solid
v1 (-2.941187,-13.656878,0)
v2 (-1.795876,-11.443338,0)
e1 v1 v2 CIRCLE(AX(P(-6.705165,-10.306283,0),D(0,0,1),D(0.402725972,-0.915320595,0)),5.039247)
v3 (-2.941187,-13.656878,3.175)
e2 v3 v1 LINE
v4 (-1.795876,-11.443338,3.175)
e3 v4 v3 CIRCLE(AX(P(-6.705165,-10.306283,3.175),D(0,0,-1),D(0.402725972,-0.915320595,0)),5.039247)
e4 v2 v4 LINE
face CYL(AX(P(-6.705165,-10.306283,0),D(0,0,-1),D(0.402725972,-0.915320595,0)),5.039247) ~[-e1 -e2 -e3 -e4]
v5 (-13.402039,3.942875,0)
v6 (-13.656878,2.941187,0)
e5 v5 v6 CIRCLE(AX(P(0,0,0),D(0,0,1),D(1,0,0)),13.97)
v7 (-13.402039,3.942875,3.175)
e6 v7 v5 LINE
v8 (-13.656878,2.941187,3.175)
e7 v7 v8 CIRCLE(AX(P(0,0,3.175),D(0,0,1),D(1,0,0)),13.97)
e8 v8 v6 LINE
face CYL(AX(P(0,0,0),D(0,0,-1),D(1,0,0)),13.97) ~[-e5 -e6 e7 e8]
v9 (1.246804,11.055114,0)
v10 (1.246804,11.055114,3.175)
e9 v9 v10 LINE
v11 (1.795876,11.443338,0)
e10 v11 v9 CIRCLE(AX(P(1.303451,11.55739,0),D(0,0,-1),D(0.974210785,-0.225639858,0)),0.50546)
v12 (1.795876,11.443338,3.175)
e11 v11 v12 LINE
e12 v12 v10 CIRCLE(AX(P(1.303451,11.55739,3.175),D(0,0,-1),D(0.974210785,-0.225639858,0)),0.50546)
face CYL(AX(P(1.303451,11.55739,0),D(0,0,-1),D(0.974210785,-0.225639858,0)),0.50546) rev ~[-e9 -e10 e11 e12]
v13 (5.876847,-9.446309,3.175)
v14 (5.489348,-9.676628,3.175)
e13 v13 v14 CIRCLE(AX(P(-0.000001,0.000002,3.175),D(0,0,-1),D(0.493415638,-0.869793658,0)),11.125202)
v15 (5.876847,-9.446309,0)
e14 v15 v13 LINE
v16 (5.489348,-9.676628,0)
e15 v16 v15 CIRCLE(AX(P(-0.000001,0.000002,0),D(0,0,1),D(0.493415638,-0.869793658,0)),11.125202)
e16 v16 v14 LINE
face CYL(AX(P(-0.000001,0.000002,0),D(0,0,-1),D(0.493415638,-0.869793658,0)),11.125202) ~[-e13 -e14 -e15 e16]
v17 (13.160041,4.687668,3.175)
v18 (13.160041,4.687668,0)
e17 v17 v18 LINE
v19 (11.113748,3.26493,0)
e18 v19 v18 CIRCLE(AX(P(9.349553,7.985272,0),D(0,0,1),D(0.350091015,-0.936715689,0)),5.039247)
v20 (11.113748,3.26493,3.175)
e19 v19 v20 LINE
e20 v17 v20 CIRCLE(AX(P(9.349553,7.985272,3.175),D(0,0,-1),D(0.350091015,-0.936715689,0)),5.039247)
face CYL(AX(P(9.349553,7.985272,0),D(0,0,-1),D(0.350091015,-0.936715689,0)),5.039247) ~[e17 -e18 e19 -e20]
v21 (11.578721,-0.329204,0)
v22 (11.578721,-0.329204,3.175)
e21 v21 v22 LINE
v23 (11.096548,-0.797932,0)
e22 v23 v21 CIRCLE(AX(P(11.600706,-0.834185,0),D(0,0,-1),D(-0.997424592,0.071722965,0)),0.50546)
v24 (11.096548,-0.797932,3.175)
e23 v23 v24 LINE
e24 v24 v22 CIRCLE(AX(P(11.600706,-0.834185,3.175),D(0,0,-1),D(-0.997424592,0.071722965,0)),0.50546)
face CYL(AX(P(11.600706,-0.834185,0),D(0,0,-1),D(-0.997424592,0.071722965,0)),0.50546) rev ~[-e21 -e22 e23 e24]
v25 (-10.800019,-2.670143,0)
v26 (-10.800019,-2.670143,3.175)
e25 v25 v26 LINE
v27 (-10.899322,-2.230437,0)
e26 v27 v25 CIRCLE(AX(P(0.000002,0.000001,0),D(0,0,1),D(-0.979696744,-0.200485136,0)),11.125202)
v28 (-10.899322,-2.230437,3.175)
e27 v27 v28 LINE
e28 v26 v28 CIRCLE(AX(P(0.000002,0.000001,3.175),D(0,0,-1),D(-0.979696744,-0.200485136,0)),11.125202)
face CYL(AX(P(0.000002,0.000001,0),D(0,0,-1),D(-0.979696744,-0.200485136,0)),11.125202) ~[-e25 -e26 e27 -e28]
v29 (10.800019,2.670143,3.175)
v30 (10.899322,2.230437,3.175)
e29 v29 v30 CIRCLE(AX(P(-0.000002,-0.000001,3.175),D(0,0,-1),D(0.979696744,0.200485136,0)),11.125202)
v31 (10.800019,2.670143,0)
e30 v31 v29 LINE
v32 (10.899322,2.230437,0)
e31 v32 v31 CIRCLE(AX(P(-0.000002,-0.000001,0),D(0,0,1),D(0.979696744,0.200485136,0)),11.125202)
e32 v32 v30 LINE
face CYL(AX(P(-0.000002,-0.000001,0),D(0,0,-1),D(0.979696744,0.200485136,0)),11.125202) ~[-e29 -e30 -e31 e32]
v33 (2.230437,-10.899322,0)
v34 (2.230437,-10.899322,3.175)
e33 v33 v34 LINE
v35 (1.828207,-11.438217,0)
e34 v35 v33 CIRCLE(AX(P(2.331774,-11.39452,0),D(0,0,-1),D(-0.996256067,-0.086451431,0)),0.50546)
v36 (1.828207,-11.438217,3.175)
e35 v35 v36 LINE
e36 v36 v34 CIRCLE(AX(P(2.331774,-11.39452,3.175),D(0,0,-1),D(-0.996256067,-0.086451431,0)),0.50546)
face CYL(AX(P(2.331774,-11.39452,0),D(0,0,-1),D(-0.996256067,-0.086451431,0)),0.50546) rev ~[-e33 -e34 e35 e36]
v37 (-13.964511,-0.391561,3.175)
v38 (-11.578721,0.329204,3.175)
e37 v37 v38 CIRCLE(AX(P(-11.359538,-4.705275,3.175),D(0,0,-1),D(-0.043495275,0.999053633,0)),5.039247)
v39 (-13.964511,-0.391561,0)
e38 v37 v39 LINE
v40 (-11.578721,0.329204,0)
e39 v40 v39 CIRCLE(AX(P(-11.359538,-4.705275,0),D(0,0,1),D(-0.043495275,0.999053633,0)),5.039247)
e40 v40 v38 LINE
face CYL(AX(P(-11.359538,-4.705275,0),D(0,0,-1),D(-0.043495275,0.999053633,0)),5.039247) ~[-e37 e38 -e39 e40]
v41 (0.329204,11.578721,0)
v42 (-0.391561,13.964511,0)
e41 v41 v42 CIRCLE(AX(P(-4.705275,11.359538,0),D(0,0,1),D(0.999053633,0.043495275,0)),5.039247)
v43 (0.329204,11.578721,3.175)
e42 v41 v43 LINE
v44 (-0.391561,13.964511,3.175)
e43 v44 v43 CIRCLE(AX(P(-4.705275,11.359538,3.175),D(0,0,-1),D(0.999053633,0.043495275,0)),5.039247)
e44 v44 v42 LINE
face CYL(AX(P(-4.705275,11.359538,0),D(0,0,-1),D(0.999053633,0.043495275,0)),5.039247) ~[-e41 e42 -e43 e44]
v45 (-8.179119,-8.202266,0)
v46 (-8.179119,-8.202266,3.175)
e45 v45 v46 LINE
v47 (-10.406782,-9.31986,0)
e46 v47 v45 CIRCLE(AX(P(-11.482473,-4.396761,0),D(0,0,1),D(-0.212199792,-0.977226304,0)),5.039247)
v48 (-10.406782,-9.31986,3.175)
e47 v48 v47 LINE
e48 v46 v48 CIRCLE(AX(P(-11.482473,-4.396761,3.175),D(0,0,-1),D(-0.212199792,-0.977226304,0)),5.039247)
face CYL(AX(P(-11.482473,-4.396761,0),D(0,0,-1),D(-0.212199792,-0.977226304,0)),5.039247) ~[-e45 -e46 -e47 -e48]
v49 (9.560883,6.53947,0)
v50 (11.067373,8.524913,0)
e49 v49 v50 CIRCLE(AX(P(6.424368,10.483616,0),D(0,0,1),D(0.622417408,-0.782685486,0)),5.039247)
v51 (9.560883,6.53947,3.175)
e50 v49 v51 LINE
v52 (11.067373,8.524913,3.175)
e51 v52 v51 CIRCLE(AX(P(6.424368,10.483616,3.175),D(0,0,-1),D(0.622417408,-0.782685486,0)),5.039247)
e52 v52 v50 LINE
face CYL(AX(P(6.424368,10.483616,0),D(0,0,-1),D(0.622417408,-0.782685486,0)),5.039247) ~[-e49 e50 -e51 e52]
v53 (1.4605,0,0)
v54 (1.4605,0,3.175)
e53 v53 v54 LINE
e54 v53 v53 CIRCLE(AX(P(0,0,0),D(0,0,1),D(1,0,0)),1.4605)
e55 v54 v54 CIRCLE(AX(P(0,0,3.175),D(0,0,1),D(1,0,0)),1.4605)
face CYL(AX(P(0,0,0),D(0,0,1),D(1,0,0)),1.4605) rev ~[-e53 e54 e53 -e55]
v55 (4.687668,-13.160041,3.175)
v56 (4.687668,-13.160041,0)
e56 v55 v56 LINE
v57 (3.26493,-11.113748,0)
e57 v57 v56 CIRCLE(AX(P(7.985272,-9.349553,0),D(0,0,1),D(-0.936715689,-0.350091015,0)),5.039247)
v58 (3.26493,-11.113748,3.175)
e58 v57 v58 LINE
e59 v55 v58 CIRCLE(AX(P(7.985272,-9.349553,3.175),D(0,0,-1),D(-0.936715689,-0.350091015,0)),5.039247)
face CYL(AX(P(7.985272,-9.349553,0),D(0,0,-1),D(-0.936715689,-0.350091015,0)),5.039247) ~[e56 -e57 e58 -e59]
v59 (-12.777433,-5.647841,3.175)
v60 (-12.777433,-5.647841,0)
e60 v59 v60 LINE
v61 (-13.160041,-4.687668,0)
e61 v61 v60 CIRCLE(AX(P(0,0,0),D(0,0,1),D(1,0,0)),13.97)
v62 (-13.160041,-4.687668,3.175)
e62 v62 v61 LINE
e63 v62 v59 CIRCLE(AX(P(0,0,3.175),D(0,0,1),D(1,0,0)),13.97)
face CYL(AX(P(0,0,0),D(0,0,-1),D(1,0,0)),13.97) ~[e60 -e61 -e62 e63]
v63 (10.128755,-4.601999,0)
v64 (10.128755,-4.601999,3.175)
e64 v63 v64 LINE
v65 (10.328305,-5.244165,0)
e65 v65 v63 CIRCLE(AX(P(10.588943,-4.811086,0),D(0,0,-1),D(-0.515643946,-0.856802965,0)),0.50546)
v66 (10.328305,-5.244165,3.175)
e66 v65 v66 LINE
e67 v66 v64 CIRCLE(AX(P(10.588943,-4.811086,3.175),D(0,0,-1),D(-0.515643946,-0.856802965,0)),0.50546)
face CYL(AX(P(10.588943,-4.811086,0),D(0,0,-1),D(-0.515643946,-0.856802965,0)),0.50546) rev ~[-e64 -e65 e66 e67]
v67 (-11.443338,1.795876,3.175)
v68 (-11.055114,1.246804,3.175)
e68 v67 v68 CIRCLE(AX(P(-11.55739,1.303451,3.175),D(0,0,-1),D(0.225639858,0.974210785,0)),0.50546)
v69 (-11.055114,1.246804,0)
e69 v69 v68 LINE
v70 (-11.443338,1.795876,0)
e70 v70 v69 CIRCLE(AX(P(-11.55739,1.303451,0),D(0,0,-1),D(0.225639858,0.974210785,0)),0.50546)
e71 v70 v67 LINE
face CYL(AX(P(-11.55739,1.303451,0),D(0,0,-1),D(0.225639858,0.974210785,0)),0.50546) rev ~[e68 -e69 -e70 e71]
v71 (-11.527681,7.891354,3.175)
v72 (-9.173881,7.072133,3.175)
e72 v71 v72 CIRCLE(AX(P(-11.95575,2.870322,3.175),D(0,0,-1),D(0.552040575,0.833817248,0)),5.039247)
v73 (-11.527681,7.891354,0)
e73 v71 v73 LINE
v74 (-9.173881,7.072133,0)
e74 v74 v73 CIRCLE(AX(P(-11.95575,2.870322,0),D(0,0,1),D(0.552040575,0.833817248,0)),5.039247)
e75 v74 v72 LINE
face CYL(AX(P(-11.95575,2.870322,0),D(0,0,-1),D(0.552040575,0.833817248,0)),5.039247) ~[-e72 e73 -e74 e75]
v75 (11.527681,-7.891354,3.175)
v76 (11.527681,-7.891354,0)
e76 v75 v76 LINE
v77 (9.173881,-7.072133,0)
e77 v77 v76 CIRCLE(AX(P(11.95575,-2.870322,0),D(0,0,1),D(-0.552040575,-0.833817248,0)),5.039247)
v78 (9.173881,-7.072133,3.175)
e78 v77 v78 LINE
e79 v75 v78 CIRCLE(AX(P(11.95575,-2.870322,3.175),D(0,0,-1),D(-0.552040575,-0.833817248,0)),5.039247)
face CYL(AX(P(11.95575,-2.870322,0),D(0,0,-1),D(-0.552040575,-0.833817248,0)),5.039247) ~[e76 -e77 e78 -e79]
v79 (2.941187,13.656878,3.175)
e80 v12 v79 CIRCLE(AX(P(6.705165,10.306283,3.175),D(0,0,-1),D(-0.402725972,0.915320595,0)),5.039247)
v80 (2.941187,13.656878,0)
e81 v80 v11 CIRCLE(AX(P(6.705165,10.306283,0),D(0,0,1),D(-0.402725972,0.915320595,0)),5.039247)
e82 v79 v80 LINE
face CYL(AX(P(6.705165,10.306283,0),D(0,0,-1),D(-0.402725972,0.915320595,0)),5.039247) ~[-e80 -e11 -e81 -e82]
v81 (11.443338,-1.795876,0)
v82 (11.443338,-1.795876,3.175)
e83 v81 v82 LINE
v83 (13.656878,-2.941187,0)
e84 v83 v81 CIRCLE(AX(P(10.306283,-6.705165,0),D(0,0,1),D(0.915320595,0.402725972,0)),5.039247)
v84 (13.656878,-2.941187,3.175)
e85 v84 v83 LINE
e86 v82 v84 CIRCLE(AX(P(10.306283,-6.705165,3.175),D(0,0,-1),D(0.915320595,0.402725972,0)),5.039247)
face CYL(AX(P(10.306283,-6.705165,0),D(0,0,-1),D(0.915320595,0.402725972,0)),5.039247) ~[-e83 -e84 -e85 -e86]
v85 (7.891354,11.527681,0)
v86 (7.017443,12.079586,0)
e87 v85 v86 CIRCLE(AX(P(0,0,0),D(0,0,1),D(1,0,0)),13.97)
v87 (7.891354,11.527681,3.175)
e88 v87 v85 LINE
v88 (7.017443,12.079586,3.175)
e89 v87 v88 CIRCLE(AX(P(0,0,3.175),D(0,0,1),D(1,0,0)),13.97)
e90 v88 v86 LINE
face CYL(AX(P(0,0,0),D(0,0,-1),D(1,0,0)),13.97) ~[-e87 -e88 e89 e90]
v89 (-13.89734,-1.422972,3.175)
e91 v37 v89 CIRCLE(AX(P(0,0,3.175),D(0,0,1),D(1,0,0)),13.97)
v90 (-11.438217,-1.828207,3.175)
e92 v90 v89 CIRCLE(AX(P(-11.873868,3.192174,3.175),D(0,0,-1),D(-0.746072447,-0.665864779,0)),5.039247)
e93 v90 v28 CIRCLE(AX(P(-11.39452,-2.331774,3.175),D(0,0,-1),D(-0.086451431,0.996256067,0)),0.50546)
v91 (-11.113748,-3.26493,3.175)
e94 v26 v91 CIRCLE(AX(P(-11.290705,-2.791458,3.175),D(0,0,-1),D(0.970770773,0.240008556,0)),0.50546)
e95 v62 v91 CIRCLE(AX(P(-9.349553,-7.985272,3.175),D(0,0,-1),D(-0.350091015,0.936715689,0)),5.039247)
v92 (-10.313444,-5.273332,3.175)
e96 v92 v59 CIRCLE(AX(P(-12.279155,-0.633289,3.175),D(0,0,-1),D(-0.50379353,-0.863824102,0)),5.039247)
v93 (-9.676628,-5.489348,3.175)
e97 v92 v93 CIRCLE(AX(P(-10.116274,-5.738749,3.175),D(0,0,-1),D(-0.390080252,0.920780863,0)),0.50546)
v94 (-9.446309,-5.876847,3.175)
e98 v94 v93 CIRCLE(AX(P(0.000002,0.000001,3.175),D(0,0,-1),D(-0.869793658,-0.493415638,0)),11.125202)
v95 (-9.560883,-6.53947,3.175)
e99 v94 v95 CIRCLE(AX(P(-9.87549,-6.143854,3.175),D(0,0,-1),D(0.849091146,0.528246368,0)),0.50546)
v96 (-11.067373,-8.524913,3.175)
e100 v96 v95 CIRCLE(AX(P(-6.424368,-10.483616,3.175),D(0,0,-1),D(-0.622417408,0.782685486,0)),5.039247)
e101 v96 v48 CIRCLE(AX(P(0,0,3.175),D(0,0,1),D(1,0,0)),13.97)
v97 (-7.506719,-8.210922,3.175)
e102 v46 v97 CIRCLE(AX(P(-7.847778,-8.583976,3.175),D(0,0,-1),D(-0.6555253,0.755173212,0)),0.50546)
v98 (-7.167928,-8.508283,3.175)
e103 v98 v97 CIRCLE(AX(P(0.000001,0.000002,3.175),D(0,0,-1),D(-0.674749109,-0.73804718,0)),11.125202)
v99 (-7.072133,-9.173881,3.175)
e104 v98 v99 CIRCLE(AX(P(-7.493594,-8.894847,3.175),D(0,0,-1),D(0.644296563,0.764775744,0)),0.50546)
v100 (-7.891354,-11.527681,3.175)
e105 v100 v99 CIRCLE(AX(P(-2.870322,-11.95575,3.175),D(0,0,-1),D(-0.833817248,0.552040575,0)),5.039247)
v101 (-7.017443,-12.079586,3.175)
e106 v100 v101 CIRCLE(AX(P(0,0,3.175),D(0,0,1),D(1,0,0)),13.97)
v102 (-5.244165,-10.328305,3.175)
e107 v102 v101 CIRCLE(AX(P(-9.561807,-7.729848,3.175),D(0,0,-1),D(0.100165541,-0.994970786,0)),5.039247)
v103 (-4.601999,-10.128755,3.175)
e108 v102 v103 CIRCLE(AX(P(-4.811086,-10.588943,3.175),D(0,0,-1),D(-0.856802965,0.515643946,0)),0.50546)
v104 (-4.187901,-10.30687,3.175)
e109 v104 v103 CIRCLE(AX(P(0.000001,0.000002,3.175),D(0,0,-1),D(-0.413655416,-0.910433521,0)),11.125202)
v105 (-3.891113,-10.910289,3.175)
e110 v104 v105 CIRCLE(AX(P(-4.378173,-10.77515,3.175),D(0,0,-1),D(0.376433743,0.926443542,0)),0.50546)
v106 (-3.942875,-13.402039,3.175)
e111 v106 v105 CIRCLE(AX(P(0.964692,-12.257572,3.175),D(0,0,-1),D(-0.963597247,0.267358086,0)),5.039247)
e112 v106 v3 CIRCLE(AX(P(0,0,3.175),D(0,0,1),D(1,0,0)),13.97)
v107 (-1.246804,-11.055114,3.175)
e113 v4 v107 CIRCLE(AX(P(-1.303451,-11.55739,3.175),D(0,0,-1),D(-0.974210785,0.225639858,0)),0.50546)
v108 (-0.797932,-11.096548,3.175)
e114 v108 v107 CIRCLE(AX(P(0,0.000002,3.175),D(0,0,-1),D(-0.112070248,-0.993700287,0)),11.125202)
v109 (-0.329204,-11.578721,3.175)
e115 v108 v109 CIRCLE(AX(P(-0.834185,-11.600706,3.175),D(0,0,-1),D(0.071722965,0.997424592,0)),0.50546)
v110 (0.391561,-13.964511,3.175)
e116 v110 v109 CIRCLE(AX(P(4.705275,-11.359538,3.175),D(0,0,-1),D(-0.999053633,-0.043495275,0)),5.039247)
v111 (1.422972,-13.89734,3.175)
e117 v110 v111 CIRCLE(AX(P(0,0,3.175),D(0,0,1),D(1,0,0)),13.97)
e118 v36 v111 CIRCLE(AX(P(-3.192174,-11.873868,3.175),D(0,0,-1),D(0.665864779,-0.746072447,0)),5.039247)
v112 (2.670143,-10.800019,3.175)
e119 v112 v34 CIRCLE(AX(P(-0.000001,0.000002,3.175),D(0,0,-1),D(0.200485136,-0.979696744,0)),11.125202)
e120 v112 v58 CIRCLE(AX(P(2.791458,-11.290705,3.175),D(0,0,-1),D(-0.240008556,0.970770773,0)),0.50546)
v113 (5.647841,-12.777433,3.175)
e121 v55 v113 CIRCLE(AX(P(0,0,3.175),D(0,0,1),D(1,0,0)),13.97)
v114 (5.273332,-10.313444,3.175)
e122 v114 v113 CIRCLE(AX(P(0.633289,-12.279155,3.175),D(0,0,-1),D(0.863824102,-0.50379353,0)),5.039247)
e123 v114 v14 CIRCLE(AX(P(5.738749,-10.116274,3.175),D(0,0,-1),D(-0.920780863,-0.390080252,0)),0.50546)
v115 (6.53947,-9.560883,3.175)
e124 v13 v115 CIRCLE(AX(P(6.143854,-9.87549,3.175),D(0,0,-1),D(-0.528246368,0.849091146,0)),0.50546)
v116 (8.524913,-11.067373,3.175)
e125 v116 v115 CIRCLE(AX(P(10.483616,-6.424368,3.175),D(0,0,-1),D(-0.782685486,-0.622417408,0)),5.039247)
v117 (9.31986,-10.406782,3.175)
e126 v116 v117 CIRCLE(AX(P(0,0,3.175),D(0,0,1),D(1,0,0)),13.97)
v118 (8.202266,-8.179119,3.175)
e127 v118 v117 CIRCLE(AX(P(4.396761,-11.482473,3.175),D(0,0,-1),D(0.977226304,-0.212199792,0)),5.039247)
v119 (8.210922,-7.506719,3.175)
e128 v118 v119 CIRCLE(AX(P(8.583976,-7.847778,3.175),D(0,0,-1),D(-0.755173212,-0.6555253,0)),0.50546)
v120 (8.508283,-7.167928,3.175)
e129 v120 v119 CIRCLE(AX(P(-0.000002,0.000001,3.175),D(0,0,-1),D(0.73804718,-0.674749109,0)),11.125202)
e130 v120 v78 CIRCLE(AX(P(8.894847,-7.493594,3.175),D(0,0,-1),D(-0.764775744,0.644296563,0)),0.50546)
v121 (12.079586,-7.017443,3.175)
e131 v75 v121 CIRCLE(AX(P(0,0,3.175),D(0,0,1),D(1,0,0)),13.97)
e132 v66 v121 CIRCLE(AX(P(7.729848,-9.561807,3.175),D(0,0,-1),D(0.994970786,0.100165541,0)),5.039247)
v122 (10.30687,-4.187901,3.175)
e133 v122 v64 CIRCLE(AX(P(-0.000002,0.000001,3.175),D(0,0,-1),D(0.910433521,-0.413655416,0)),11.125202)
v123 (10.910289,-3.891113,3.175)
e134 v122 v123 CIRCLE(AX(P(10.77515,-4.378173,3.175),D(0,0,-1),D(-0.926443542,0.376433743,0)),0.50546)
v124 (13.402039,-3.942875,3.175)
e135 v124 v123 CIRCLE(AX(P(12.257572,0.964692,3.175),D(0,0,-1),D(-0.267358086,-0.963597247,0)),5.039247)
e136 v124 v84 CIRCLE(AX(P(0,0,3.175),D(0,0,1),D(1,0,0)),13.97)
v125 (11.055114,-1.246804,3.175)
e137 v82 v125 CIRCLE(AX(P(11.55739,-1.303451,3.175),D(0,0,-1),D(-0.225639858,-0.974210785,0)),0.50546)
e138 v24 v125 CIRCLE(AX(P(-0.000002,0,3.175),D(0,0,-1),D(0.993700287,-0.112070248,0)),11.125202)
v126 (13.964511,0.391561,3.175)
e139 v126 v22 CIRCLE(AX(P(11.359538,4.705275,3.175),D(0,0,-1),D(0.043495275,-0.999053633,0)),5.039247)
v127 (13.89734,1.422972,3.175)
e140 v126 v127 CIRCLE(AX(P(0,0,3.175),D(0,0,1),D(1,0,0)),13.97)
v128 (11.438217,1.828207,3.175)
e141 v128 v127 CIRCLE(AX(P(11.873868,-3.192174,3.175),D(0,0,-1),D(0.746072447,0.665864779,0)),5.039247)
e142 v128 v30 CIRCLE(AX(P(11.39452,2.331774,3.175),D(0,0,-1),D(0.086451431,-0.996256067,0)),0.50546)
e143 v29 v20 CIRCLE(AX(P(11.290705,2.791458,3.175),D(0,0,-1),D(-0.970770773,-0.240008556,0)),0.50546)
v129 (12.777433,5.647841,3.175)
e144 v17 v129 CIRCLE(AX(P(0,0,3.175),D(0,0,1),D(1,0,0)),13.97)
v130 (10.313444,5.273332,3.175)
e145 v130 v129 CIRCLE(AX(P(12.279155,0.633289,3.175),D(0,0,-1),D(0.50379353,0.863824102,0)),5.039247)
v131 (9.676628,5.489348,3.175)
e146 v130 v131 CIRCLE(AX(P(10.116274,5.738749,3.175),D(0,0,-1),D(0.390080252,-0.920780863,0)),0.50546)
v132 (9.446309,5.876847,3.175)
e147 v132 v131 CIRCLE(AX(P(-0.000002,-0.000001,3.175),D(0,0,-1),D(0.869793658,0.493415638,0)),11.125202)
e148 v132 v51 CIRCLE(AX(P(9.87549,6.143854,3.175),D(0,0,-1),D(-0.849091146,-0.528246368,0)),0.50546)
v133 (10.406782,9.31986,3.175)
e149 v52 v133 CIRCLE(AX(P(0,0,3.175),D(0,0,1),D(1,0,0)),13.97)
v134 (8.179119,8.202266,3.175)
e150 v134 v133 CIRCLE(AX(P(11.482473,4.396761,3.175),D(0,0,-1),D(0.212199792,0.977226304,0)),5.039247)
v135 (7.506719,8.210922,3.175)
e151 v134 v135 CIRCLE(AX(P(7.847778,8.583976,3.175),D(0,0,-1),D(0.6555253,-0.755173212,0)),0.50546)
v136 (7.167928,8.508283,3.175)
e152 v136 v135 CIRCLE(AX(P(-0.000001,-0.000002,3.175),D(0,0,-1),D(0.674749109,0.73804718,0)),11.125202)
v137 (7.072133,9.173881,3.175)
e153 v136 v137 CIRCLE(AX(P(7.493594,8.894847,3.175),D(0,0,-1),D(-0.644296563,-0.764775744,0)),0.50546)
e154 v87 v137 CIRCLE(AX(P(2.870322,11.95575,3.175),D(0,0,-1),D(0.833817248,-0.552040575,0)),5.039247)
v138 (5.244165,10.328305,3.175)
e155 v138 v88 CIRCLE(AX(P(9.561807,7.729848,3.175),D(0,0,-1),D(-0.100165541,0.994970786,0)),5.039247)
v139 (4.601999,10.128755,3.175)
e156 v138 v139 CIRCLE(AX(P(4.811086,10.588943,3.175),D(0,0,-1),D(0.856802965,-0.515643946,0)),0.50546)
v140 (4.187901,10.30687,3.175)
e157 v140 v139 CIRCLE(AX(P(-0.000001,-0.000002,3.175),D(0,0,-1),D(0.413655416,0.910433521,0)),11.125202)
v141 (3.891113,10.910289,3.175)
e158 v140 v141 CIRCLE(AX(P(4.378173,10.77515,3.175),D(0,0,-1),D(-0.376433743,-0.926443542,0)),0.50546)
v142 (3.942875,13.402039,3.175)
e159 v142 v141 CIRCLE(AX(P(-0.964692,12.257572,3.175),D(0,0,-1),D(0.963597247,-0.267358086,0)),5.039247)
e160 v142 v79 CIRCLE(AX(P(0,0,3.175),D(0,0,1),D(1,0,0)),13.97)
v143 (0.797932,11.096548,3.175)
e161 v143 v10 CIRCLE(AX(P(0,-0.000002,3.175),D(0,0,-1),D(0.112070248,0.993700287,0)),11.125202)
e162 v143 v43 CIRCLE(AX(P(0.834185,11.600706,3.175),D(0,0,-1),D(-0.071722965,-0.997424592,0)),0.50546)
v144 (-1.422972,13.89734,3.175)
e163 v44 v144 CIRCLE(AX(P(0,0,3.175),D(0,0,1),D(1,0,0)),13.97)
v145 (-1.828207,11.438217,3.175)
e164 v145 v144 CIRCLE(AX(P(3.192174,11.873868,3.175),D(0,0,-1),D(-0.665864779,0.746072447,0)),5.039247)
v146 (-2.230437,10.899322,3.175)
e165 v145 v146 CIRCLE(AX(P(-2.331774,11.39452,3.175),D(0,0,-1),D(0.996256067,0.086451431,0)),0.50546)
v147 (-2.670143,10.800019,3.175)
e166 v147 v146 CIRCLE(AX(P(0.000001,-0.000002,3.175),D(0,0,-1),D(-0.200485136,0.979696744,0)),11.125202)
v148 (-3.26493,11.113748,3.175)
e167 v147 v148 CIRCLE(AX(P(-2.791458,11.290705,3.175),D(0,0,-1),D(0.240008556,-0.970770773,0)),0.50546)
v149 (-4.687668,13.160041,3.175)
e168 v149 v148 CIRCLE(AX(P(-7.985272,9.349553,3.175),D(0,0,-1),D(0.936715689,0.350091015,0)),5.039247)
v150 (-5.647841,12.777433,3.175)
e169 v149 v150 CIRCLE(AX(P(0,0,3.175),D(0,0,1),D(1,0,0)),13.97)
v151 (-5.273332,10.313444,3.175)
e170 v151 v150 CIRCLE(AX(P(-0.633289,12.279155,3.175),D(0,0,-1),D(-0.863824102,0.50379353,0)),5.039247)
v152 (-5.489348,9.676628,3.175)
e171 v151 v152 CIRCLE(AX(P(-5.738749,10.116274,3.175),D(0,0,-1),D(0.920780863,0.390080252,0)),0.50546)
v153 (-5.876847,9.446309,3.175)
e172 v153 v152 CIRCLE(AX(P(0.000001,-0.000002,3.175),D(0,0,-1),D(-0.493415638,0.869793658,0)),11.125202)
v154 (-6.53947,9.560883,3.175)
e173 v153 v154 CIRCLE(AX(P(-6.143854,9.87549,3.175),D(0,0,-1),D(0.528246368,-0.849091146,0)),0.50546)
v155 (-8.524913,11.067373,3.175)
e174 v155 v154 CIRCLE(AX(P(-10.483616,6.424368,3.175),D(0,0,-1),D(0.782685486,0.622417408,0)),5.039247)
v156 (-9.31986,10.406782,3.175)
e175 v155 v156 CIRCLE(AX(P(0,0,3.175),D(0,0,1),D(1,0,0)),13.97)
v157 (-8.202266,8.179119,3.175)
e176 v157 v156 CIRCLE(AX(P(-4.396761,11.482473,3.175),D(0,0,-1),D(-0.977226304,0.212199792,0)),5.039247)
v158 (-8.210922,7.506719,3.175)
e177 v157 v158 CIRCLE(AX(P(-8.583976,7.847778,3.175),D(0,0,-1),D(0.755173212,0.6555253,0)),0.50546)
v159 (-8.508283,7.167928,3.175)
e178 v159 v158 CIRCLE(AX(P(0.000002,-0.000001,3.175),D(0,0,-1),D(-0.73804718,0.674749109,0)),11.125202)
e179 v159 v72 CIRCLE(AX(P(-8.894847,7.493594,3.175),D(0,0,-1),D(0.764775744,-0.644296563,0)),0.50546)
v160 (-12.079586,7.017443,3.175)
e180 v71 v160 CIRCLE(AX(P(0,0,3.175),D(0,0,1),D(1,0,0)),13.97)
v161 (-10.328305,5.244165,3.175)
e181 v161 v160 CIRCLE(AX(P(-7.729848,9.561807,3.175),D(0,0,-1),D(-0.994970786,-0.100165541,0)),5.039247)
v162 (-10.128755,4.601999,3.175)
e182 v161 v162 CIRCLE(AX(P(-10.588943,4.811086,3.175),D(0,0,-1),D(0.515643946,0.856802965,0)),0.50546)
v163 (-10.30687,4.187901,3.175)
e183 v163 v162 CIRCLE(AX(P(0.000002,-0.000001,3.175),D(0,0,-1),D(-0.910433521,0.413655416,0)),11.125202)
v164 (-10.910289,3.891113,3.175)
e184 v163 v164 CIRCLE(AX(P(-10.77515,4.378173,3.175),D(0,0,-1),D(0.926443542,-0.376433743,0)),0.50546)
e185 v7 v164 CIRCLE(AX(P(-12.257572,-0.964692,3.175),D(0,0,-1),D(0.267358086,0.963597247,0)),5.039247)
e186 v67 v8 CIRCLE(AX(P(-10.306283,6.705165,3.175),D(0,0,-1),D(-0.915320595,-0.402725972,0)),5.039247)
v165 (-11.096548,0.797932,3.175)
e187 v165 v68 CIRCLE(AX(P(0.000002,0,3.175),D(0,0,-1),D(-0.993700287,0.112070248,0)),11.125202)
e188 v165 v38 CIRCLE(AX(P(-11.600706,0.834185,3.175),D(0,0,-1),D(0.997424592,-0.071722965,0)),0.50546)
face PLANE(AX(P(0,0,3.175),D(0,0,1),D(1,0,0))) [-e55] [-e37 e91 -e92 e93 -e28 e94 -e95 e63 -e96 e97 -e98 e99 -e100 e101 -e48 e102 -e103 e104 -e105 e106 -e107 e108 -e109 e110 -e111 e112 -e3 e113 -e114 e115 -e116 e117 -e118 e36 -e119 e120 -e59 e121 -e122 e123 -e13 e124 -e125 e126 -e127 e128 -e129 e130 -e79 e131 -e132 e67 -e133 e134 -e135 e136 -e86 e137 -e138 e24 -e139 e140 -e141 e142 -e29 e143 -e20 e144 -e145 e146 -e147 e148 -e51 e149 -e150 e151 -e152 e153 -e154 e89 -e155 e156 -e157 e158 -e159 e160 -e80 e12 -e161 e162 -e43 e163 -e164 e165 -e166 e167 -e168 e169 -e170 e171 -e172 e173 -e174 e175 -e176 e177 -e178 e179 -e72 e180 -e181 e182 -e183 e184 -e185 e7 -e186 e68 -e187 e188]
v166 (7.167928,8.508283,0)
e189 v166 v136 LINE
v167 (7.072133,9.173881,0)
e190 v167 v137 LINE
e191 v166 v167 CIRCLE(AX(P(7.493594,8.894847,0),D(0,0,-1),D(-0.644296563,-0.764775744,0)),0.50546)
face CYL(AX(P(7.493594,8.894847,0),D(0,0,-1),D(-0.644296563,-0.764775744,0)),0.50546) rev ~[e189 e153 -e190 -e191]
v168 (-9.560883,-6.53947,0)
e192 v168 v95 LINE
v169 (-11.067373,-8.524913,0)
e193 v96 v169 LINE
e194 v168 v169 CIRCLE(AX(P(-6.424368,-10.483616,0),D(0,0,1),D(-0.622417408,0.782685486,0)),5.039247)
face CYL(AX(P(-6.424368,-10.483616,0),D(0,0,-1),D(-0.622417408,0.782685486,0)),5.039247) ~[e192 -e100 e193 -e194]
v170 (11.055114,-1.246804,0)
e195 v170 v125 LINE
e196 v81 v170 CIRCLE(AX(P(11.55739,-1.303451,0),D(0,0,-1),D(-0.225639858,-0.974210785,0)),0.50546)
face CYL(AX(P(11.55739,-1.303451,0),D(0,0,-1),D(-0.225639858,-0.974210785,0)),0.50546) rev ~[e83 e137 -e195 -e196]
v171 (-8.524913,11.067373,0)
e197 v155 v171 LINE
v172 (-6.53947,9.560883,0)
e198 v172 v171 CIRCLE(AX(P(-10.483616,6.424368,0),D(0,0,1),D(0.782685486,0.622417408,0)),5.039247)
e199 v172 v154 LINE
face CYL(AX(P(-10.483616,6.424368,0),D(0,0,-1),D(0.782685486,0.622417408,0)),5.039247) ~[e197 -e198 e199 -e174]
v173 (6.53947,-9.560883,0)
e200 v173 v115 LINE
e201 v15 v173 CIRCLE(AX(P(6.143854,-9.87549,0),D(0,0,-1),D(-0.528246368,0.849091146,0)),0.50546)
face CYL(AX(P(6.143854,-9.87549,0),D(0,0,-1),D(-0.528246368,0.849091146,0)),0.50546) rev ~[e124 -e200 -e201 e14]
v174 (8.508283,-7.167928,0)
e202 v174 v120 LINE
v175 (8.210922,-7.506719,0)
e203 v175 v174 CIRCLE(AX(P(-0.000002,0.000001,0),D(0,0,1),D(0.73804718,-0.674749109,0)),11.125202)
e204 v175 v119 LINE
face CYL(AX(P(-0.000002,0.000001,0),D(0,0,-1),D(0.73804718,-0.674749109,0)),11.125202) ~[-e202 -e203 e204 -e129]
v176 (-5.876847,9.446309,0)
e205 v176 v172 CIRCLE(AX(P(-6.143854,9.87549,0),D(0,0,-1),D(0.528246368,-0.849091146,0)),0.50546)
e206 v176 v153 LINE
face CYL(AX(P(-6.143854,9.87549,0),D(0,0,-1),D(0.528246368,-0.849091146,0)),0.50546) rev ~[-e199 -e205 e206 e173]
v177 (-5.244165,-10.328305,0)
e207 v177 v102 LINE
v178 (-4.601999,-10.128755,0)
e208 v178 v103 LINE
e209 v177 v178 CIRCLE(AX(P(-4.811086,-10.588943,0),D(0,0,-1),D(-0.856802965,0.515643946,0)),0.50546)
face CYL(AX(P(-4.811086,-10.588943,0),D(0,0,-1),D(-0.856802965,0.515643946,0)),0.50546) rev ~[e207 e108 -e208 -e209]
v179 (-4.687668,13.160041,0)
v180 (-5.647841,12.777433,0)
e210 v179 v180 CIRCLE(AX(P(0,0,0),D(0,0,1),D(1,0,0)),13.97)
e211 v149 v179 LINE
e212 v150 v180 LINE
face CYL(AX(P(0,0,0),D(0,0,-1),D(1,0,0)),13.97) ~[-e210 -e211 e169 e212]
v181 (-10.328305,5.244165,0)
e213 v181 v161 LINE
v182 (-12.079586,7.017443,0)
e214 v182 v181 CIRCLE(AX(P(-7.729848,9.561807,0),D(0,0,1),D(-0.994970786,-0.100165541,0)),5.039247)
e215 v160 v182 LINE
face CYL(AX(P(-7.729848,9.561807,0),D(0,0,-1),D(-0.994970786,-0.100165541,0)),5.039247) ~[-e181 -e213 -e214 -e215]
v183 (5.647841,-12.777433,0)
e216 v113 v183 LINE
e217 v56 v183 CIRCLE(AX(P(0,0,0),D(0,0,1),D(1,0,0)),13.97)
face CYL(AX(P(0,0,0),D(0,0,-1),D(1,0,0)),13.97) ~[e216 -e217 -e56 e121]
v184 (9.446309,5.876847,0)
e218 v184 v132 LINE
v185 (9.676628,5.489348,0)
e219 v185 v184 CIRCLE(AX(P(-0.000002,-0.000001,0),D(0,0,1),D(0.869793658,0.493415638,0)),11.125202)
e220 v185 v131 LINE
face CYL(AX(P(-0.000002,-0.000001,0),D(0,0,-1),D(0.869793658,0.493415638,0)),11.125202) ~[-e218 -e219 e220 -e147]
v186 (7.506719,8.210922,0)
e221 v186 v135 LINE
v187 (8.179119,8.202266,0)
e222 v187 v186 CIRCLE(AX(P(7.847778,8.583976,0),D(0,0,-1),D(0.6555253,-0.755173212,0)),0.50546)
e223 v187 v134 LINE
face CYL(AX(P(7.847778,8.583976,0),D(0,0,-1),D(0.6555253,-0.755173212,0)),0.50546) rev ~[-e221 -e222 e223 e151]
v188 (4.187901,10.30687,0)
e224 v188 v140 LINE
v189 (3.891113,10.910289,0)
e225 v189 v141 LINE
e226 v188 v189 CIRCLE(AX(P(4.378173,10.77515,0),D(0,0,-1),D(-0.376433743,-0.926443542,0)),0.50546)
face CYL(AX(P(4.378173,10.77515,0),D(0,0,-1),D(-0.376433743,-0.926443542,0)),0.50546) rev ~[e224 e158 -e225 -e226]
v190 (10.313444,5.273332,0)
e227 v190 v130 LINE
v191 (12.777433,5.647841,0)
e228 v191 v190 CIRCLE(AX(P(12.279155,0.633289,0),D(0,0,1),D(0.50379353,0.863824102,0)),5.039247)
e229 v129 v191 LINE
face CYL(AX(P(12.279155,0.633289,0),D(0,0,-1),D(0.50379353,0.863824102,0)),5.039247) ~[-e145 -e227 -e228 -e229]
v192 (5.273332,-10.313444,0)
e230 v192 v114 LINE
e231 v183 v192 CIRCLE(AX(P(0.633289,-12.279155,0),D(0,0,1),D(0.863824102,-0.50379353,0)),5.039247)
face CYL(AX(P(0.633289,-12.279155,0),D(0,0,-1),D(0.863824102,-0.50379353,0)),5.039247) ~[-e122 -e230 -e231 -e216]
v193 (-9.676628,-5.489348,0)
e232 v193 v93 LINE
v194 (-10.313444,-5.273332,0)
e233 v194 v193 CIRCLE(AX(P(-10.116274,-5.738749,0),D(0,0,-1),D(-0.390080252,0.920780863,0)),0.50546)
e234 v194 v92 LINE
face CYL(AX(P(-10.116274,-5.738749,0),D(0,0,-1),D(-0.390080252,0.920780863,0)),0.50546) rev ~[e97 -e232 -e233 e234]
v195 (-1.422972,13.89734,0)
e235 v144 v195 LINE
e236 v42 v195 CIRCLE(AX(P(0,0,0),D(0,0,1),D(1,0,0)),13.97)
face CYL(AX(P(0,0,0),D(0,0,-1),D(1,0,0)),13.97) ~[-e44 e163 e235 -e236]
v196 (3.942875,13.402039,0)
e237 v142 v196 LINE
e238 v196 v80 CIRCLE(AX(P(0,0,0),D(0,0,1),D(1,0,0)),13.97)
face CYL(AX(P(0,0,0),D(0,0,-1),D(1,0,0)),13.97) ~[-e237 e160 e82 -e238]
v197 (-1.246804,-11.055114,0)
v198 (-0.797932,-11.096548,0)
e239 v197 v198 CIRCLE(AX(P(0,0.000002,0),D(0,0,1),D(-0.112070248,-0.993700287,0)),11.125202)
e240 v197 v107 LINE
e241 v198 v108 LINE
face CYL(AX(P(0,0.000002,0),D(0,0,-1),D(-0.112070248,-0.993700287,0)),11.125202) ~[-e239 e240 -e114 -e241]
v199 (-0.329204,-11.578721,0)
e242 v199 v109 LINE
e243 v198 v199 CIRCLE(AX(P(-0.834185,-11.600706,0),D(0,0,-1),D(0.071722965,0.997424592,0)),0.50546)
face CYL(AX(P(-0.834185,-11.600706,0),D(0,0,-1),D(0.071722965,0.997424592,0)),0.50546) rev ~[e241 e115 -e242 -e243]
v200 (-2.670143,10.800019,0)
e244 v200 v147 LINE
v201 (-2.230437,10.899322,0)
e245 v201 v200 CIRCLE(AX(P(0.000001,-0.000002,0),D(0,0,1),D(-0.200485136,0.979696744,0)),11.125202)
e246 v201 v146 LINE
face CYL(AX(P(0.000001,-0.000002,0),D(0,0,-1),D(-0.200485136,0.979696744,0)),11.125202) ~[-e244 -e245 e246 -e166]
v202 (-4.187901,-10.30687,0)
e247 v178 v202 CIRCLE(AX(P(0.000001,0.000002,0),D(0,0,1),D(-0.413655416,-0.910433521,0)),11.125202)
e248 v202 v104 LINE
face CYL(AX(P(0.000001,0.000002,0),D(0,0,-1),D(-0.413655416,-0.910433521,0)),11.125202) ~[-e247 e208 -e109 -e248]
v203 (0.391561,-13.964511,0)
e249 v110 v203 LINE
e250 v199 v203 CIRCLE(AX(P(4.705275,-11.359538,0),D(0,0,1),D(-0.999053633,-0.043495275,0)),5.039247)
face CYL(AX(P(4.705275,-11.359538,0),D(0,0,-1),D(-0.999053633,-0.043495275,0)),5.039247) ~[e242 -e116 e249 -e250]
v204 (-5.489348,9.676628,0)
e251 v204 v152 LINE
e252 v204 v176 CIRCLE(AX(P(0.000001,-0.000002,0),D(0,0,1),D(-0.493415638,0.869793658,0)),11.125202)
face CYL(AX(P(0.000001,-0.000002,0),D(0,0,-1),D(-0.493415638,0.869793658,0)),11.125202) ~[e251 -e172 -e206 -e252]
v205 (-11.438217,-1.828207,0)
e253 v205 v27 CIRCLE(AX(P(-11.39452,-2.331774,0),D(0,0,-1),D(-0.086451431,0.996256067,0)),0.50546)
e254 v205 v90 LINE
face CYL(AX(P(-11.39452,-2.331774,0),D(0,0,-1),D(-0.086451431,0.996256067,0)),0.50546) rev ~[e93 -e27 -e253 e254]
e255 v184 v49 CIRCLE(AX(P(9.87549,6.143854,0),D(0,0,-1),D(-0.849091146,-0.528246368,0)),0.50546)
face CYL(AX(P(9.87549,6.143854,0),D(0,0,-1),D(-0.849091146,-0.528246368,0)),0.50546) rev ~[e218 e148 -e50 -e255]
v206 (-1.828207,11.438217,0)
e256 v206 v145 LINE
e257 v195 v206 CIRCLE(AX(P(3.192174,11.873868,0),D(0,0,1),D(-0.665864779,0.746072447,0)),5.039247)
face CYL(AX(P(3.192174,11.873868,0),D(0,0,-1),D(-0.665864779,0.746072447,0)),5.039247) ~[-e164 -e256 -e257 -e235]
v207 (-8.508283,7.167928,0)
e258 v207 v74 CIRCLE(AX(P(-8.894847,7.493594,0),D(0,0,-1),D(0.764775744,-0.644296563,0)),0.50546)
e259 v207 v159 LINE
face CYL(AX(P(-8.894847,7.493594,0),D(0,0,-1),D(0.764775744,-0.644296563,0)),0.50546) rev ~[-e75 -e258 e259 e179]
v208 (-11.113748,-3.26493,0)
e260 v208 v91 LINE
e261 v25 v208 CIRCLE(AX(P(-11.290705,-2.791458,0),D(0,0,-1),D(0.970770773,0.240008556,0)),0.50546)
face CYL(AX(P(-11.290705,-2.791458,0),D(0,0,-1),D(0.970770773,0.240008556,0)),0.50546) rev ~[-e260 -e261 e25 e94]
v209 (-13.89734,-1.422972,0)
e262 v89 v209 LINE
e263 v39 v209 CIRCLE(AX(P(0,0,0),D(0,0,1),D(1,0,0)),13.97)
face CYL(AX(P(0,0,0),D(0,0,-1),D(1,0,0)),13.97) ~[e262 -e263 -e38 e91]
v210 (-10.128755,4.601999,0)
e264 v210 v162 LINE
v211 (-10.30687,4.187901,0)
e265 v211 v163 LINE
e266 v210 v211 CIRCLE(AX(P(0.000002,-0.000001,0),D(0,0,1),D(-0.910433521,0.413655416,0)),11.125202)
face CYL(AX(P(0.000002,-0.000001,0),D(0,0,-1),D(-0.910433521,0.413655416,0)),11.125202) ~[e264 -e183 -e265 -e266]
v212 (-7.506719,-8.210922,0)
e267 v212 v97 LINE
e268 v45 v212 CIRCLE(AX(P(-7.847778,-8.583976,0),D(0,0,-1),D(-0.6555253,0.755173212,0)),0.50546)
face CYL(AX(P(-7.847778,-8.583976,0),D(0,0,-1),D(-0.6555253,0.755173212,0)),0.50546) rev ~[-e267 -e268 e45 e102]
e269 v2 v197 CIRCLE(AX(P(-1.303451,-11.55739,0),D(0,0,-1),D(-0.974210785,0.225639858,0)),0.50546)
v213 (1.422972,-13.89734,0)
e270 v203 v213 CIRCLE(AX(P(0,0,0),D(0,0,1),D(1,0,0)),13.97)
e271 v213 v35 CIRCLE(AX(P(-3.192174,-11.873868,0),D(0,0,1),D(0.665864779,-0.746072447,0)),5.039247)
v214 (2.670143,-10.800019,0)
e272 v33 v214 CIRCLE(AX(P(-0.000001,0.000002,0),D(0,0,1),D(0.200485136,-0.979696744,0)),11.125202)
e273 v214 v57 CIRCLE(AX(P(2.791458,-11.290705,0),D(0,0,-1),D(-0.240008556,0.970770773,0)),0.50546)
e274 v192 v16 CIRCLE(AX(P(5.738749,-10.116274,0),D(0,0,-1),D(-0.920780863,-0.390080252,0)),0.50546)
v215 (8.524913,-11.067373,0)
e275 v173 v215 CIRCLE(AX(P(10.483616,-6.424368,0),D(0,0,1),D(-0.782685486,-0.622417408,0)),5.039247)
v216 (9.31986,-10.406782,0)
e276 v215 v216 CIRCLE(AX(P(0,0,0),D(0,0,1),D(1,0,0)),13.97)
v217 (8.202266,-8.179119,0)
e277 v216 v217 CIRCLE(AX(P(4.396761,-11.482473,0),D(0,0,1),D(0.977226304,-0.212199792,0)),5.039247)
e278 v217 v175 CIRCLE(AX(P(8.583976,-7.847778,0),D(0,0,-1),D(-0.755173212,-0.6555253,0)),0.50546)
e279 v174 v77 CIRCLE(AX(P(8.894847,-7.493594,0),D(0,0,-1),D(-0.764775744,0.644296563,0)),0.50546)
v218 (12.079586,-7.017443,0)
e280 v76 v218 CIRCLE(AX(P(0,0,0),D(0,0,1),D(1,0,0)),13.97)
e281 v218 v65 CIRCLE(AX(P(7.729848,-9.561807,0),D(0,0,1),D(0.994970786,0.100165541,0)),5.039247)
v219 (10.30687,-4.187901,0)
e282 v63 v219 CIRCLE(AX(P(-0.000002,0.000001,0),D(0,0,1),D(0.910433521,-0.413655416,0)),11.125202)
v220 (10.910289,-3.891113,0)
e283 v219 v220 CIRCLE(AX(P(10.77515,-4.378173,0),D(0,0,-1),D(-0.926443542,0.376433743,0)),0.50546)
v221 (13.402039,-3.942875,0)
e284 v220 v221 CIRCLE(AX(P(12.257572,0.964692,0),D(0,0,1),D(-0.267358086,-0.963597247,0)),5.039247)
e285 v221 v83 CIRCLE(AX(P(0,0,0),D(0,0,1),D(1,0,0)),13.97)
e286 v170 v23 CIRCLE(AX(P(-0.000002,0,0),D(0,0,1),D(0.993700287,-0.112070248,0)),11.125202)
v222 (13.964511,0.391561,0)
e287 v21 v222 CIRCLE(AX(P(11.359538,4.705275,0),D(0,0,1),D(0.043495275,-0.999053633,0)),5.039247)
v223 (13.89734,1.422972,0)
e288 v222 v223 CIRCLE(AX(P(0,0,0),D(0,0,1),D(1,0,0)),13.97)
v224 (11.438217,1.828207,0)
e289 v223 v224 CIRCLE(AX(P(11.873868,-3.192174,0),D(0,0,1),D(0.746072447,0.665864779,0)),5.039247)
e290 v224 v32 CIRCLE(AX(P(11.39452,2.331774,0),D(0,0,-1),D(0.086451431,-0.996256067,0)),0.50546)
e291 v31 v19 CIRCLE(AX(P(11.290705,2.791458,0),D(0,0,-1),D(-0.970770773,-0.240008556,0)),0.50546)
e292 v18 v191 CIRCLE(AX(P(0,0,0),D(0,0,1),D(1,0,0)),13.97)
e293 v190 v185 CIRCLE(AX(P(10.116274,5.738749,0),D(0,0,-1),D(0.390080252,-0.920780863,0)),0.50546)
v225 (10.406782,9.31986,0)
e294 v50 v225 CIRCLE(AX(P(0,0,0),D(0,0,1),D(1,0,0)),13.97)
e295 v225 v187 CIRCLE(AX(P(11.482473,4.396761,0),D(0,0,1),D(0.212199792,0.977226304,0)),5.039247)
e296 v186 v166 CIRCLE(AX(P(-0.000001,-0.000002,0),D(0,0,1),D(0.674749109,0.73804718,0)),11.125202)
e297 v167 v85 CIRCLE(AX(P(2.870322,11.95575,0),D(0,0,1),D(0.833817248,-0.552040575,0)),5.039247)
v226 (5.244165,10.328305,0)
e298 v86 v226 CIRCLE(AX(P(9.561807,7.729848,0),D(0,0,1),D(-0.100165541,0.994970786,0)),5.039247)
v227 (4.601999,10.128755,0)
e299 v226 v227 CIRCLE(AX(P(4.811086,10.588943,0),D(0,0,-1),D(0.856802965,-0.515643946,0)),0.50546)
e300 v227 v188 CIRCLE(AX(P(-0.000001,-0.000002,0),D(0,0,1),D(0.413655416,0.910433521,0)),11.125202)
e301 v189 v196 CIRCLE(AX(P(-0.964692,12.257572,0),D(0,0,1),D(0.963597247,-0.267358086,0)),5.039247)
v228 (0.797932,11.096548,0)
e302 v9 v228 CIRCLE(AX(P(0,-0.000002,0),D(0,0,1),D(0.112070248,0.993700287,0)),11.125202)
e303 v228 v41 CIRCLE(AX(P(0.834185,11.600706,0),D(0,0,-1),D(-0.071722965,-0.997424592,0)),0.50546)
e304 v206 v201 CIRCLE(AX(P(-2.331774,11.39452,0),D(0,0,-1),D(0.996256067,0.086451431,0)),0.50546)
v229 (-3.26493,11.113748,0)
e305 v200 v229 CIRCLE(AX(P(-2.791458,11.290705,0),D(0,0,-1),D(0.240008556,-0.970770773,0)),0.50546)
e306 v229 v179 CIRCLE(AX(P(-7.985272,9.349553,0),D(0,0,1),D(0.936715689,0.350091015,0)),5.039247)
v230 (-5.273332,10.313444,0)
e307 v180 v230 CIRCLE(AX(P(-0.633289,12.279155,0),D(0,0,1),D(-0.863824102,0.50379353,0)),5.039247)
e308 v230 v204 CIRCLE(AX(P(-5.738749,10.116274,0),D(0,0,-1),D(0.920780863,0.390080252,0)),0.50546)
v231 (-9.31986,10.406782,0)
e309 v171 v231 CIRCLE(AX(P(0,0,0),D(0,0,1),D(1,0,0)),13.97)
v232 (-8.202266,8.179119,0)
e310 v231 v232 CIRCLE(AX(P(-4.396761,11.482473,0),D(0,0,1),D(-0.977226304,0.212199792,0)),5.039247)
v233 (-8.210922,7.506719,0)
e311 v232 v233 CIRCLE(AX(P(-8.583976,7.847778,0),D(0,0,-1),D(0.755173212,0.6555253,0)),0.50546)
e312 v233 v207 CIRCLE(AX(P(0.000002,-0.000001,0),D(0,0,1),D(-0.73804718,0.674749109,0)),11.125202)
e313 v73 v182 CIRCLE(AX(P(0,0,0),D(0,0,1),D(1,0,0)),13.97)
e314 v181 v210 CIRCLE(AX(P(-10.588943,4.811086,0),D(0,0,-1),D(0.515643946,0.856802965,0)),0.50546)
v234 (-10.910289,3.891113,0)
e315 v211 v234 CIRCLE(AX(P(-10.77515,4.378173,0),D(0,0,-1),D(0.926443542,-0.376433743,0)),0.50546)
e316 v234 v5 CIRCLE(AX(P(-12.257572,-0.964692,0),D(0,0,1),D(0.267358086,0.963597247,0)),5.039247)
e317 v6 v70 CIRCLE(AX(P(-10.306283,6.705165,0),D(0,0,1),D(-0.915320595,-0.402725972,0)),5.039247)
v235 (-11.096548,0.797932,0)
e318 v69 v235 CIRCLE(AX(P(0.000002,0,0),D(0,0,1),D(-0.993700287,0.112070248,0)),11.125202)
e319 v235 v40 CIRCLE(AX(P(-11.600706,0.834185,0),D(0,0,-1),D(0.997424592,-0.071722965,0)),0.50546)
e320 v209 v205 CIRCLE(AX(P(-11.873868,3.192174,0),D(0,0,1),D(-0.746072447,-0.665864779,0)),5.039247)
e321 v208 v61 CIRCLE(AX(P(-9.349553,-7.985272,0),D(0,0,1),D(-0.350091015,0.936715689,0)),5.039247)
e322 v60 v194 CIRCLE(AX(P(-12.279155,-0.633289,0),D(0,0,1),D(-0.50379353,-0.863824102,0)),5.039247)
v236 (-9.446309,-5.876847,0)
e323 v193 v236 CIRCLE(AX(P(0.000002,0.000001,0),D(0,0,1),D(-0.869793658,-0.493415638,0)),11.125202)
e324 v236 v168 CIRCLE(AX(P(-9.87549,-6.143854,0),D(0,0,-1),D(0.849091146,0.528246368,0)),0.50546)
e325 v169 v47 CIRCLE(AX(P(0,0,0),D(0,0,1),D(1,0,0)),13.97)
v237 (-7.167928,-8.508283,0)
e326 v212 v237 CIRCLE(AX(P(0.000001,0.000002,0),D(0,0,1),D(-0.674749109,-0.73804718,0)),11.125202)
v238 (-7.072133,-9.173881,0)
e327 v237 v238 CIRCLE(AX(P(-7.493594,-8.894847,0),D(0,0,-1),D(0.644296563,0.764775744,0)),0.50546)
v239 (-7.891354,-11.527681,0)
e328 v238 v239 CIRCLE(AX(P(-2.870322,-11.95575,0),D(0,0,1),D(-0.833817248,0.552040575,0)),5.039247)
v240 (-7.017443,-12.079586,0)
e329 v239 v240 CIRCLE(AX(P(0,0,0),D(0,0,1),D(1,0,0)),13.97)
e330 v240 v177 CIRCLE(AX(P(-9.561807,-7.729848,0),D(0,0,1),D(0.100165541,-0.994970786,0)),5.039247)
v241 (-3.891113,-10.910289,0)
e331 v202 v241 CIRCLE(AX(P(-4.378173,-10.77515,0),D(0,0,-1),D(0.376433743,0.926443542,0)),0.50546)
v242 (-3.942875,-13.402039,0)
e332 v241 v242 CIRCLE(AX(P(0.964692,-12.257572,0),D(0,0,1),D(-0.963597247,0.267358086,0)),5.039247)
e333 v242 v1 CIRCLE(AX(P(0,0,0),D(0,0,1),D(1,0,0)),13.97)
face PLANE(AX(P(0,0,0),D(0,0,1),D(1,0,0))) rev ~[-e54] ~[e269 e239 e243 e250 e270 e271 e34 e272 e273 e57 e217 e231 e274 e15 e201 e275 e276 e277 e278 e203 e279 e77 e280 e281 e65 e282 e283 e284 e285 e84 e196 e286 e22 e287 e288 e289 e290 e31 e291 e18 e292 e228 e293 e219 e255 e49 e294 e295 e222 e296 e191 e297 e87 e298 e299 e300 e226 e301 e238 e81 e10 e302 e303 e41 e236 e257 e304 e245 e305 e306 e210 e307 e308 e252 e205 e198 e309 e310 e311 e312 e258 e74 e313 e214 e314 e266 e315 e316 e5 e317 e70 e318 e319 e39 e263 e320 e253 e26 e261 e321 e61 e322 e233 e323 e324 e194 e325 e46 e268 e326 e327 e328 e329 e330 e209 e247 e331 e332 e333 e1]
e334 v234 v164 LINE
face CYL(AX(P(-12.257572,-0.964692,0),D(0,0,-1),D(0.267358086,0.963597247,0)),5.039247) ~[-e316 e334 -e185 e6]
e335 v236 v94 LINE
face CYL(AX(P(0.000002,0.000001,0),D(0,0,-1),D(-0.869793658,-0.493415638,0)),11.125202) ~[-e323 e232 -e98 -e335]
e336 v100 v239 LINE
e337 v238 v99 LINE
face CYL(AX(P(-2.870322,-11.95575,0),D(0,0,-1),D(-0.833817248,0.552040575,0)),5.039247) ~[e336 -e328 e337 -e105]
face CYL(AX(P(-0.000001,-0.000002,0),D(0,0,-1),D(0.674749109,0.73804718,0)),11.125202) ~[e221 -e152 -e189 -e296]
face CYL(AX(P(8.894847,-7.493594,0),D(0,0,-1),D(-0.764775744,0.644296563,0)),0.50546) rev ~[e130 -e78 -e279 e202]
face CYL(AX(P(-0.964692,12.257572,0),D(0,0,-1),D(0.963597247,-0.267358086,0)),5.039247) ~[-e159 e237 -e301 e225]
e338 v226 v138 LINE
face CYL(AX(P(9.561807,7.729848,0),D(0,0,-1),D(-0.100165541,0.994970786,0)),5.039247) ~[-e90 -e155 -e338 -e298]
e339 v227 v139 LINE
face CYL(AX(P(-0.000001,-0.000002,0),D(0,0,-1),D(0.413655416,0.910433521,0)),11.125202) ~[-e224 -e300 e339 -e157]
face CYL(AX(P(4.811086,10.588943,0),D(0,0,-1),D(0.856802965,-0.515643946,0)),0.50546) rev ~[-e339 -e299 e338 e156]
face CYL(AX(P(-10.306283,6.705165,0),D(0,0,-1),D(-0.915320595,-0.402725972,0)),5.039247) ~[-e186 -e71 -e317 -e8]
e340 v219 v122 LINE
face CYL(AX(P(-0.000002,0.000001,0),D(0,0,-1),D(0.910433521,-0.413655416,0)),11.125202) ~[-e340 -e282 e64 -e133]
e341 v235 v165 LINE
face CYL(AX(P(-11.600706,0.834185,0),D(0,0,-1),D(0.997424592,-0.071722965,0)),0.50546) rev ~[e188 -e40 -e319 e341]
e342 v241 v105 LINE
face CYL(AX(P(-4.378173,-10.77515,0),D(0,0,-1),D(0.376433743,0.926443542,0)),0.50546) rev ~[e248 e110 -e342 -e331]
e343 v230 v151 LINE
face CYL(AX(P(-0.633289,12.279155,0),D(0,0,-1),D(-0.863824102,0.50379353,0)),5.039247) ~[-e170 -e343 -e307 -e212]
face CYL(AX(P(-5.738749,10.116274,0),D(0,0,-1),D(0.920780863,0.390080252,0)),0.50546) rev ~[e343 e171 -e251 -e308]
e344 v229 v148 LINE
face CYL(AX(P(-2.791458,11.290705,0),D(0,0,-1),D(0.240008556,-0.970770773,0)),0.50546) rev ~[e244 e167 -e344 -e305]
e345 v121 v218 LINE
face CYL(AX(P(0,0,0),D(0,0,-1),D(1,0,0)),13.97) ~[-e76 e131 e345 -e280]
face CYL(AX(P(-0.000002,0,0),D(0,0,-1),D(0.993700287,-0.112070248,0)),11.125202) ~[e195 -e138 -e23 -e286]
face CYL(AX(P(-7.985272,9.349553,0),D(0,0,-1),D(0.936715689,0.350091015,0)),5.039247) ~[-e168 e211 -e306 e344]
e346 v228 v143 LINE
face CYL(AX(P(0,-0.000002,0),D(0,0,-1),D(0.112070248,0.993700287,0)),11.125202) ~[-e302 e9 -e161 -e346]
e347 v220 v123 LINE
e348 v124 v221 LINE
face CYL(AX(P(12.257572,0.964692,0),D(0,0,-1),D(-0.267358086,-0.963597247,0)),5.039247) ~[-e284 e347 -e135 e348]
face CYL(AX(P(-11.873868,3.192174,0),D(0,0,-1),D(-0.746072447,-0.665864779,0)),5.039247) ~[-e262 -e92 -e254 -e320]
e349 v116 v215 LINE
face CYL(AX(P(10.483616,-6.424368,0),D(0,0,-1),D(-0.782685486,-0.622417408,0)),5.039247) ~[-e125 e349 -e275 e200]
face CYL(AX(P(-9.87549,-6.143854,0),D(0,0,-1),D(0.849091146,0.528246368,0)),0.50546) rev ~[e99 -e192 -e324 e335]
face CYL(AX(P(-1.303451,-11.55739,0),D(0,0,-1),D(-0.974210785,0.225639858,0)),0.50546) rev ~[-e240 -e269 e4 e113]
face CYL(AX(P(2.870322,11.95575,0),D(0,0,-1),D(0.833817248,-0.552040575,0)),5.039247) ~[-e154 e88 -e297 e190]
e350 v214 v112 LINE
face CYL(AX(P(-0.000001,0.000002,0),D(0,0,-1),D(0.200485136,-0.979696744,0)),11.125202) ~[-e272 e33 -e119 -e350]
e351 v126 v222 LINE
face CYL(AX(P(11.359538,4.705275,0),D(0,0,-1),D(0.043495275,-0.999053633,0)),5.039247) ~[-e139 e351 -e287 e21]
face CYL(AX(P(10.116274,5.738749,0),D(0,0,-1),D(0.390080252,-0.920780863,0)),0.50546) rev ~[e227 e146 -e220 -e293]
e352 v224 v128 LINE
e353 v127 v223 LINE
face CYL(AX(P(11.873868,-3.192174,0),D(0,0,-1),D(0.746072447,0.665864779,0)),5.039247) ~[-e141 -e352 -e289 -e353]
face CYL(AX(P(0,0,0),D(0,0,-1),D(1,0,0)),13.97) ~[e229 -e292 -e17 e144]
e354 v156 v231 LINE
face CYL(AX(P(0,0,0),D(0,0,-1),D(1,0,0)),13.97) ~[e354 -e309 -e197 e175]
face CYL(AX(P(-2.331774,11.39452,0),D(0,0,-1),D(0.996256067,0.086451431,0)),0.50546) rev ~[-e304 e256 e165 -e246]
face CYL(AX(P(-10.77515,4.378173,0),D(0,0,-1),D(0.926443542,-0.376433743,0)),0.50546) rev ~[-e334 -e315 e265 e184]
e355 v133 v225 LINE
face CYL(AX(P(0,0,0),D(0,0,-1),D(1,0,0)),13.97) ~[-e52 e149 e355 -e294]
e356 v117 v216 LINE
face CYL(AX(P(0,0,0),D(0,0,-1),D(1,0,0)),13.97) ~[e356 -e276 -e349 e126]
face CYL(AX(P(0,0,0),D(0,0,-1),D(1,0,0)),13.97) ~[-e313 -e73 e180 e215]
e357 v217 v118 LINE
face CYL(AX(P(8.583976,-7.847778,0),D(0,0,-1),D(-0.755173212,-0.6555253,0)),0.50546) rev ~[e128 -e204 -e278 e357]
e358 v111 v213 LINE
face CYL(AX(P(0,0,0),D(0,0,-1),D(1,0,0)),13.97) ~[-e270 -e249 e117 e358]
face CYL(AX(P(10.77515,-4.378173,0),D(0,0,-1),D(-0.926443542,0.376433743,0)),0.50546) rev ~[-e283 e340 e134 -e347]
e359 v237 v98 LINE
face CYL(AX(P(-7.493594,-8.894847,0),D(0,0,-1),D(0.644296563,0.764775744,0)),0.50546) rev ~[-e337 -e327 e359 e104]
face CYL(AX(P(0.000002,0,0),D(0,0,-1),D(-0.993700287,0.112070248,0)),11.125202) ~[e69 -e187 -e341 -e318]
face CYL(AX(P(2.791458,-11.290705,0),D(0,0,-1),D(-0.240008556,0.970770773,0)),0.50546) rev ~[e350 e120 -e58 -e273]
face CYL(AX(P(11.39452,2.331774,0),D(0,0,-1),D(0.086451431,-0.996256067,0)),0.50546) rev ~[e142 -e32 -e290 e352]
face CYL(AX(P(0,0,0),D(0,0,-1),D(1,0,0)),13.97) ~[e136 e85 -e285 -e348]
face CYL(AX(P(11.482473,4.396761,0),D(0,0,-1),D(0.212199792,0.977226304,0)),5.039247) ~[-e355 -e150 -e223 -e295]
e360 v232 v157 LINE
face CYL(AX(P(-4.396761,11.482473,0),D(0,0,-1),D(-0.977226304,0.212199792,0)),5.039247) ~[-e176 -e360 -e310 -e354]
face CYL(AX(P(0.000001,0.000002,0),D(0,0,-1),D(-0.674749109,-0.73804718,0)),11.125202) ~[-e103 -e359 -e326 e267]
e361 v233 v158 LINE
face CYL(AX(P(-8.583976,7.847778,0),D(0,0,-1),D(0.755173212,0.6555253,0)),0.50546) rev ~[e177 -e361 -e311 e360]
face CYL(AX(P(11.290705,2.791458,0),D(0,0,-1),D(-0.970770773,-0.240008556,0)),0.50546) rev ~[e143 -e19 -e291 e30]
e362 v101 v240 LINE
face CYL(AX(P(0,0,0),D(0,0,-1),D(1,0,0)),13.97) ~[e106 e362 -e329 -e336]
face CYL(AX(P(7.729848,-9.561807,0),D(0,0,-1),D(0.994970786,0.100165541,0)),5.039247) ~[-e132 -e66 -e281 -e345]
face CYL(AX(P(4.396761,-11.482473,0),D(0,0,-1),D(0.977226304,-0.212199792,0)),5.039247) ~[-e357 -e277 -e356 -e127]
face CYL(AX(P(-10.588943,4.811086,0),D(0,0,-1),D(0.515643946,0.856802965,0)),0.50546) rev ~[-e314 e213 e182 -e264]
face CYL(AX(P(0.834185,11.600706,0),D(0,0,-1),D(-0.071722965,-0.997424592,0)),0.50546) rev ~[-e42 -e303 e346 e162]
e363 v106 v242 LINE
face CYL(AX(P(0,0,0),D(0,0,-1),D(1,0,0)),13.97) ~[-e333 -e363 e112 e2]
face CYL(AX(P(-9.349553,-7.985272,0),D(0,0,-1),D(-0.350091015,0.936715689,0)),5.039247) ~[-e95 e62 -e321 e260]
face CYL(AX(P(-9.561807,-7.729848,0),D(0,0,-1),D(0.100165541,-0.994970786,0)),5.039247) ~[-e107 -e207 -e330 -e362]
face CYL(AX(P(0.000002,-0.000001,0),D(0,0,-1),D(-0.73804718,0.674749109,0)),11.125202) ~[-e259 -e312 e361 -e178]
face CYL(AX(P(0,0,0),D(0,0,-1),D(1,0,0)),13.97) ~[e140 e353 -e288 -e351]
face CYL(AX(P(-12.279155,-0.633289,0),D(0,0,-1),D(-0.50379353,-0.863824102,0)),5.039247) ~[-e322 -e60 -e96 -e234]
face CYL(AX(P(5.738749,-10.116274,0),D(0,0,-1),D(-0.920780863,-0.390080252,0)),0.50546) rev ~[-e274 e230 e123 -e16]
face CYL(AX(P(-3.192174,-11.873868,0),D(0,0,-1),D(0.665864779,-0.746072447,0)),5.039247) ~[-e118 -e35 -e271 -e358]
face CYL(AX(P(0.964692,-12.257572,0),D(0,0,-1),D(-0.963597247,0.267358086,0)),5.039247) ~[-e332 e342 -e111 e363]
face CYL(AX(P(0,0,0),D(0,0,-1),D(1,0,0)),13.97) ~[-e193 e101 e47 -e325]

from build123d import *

# Parameters (mm, degrees)
SKETCH3_R         = 13.97
GEARBODY_DEPTH    = 3.175
TOOTHCUT_DEPTH    = 21.010058096
CIRPATTERN1_COUNT = 20
BOREDIA_R         = 1.460500026
BORE_DEPTH        = 12700


with BuildPart() as part:
    # Sketch3 → gearBody (new body)
    with BuildSketch(Plane.XY):
        Circle(SKETCH3_R)
    extrude(amount=GEARBODY_DEPTH)

    # Sketch2 → toothCut (cut, through all)
    with BuildSketch(Plane.XY):
        with BuildLine():
            ThreePointArc((11.055114421, -1.246803989), (11.078104947, -1.022578023), (11.09654807, -0.797932304))
            ThreePointArc((11.09654807, -0.797932304), (11.248380712, -0.471754036), (11.578721183, -0.329203743))
            ThreePointArc((11.578721183, -0.329203743), (13.810169569, 0.302046563), (15.522633304, 1.865794244))
            ThreePointArc((15.522633304, 1.865794244), (15.568180658, -1.437039952), (14.918810012, -4.675728892))
            ThreePointArc((14.918810012, -4.675728892), (13.521529943, -2.824932507), (11.443338244, -1.795875603))
            ThreePointArc((11.443338244, -1.795875603), (11.144673729, -1.595264236), (11.055114421, -1.246803989))
        make_face()
    toothcut = extrude(amount=TOOTHCUT_DEPTH, mode=Mode.SUBTRACT)

    # CirPattern1: toothCut ×20 about axis
    cirpattern1_axis = Axis((0, 0, 3.175), (0, 0, -1))
    for i in range(1, CIRPATTERN1_COUNT):
        add(toothcut.rotate(cirpattern1_axis, i * 360 / CIRPATTERN1_COUNT), mode=Mode.SUBTRACT)

    # boreDia → bore (cut, symmetric)
    with BuildSketch(Plane.XY):
        Circle(BOREDIA_R)
    extrude(amount=BORE_DEPTH, both=True, mode=Mode.SUBTRACT)


solid = part.part
